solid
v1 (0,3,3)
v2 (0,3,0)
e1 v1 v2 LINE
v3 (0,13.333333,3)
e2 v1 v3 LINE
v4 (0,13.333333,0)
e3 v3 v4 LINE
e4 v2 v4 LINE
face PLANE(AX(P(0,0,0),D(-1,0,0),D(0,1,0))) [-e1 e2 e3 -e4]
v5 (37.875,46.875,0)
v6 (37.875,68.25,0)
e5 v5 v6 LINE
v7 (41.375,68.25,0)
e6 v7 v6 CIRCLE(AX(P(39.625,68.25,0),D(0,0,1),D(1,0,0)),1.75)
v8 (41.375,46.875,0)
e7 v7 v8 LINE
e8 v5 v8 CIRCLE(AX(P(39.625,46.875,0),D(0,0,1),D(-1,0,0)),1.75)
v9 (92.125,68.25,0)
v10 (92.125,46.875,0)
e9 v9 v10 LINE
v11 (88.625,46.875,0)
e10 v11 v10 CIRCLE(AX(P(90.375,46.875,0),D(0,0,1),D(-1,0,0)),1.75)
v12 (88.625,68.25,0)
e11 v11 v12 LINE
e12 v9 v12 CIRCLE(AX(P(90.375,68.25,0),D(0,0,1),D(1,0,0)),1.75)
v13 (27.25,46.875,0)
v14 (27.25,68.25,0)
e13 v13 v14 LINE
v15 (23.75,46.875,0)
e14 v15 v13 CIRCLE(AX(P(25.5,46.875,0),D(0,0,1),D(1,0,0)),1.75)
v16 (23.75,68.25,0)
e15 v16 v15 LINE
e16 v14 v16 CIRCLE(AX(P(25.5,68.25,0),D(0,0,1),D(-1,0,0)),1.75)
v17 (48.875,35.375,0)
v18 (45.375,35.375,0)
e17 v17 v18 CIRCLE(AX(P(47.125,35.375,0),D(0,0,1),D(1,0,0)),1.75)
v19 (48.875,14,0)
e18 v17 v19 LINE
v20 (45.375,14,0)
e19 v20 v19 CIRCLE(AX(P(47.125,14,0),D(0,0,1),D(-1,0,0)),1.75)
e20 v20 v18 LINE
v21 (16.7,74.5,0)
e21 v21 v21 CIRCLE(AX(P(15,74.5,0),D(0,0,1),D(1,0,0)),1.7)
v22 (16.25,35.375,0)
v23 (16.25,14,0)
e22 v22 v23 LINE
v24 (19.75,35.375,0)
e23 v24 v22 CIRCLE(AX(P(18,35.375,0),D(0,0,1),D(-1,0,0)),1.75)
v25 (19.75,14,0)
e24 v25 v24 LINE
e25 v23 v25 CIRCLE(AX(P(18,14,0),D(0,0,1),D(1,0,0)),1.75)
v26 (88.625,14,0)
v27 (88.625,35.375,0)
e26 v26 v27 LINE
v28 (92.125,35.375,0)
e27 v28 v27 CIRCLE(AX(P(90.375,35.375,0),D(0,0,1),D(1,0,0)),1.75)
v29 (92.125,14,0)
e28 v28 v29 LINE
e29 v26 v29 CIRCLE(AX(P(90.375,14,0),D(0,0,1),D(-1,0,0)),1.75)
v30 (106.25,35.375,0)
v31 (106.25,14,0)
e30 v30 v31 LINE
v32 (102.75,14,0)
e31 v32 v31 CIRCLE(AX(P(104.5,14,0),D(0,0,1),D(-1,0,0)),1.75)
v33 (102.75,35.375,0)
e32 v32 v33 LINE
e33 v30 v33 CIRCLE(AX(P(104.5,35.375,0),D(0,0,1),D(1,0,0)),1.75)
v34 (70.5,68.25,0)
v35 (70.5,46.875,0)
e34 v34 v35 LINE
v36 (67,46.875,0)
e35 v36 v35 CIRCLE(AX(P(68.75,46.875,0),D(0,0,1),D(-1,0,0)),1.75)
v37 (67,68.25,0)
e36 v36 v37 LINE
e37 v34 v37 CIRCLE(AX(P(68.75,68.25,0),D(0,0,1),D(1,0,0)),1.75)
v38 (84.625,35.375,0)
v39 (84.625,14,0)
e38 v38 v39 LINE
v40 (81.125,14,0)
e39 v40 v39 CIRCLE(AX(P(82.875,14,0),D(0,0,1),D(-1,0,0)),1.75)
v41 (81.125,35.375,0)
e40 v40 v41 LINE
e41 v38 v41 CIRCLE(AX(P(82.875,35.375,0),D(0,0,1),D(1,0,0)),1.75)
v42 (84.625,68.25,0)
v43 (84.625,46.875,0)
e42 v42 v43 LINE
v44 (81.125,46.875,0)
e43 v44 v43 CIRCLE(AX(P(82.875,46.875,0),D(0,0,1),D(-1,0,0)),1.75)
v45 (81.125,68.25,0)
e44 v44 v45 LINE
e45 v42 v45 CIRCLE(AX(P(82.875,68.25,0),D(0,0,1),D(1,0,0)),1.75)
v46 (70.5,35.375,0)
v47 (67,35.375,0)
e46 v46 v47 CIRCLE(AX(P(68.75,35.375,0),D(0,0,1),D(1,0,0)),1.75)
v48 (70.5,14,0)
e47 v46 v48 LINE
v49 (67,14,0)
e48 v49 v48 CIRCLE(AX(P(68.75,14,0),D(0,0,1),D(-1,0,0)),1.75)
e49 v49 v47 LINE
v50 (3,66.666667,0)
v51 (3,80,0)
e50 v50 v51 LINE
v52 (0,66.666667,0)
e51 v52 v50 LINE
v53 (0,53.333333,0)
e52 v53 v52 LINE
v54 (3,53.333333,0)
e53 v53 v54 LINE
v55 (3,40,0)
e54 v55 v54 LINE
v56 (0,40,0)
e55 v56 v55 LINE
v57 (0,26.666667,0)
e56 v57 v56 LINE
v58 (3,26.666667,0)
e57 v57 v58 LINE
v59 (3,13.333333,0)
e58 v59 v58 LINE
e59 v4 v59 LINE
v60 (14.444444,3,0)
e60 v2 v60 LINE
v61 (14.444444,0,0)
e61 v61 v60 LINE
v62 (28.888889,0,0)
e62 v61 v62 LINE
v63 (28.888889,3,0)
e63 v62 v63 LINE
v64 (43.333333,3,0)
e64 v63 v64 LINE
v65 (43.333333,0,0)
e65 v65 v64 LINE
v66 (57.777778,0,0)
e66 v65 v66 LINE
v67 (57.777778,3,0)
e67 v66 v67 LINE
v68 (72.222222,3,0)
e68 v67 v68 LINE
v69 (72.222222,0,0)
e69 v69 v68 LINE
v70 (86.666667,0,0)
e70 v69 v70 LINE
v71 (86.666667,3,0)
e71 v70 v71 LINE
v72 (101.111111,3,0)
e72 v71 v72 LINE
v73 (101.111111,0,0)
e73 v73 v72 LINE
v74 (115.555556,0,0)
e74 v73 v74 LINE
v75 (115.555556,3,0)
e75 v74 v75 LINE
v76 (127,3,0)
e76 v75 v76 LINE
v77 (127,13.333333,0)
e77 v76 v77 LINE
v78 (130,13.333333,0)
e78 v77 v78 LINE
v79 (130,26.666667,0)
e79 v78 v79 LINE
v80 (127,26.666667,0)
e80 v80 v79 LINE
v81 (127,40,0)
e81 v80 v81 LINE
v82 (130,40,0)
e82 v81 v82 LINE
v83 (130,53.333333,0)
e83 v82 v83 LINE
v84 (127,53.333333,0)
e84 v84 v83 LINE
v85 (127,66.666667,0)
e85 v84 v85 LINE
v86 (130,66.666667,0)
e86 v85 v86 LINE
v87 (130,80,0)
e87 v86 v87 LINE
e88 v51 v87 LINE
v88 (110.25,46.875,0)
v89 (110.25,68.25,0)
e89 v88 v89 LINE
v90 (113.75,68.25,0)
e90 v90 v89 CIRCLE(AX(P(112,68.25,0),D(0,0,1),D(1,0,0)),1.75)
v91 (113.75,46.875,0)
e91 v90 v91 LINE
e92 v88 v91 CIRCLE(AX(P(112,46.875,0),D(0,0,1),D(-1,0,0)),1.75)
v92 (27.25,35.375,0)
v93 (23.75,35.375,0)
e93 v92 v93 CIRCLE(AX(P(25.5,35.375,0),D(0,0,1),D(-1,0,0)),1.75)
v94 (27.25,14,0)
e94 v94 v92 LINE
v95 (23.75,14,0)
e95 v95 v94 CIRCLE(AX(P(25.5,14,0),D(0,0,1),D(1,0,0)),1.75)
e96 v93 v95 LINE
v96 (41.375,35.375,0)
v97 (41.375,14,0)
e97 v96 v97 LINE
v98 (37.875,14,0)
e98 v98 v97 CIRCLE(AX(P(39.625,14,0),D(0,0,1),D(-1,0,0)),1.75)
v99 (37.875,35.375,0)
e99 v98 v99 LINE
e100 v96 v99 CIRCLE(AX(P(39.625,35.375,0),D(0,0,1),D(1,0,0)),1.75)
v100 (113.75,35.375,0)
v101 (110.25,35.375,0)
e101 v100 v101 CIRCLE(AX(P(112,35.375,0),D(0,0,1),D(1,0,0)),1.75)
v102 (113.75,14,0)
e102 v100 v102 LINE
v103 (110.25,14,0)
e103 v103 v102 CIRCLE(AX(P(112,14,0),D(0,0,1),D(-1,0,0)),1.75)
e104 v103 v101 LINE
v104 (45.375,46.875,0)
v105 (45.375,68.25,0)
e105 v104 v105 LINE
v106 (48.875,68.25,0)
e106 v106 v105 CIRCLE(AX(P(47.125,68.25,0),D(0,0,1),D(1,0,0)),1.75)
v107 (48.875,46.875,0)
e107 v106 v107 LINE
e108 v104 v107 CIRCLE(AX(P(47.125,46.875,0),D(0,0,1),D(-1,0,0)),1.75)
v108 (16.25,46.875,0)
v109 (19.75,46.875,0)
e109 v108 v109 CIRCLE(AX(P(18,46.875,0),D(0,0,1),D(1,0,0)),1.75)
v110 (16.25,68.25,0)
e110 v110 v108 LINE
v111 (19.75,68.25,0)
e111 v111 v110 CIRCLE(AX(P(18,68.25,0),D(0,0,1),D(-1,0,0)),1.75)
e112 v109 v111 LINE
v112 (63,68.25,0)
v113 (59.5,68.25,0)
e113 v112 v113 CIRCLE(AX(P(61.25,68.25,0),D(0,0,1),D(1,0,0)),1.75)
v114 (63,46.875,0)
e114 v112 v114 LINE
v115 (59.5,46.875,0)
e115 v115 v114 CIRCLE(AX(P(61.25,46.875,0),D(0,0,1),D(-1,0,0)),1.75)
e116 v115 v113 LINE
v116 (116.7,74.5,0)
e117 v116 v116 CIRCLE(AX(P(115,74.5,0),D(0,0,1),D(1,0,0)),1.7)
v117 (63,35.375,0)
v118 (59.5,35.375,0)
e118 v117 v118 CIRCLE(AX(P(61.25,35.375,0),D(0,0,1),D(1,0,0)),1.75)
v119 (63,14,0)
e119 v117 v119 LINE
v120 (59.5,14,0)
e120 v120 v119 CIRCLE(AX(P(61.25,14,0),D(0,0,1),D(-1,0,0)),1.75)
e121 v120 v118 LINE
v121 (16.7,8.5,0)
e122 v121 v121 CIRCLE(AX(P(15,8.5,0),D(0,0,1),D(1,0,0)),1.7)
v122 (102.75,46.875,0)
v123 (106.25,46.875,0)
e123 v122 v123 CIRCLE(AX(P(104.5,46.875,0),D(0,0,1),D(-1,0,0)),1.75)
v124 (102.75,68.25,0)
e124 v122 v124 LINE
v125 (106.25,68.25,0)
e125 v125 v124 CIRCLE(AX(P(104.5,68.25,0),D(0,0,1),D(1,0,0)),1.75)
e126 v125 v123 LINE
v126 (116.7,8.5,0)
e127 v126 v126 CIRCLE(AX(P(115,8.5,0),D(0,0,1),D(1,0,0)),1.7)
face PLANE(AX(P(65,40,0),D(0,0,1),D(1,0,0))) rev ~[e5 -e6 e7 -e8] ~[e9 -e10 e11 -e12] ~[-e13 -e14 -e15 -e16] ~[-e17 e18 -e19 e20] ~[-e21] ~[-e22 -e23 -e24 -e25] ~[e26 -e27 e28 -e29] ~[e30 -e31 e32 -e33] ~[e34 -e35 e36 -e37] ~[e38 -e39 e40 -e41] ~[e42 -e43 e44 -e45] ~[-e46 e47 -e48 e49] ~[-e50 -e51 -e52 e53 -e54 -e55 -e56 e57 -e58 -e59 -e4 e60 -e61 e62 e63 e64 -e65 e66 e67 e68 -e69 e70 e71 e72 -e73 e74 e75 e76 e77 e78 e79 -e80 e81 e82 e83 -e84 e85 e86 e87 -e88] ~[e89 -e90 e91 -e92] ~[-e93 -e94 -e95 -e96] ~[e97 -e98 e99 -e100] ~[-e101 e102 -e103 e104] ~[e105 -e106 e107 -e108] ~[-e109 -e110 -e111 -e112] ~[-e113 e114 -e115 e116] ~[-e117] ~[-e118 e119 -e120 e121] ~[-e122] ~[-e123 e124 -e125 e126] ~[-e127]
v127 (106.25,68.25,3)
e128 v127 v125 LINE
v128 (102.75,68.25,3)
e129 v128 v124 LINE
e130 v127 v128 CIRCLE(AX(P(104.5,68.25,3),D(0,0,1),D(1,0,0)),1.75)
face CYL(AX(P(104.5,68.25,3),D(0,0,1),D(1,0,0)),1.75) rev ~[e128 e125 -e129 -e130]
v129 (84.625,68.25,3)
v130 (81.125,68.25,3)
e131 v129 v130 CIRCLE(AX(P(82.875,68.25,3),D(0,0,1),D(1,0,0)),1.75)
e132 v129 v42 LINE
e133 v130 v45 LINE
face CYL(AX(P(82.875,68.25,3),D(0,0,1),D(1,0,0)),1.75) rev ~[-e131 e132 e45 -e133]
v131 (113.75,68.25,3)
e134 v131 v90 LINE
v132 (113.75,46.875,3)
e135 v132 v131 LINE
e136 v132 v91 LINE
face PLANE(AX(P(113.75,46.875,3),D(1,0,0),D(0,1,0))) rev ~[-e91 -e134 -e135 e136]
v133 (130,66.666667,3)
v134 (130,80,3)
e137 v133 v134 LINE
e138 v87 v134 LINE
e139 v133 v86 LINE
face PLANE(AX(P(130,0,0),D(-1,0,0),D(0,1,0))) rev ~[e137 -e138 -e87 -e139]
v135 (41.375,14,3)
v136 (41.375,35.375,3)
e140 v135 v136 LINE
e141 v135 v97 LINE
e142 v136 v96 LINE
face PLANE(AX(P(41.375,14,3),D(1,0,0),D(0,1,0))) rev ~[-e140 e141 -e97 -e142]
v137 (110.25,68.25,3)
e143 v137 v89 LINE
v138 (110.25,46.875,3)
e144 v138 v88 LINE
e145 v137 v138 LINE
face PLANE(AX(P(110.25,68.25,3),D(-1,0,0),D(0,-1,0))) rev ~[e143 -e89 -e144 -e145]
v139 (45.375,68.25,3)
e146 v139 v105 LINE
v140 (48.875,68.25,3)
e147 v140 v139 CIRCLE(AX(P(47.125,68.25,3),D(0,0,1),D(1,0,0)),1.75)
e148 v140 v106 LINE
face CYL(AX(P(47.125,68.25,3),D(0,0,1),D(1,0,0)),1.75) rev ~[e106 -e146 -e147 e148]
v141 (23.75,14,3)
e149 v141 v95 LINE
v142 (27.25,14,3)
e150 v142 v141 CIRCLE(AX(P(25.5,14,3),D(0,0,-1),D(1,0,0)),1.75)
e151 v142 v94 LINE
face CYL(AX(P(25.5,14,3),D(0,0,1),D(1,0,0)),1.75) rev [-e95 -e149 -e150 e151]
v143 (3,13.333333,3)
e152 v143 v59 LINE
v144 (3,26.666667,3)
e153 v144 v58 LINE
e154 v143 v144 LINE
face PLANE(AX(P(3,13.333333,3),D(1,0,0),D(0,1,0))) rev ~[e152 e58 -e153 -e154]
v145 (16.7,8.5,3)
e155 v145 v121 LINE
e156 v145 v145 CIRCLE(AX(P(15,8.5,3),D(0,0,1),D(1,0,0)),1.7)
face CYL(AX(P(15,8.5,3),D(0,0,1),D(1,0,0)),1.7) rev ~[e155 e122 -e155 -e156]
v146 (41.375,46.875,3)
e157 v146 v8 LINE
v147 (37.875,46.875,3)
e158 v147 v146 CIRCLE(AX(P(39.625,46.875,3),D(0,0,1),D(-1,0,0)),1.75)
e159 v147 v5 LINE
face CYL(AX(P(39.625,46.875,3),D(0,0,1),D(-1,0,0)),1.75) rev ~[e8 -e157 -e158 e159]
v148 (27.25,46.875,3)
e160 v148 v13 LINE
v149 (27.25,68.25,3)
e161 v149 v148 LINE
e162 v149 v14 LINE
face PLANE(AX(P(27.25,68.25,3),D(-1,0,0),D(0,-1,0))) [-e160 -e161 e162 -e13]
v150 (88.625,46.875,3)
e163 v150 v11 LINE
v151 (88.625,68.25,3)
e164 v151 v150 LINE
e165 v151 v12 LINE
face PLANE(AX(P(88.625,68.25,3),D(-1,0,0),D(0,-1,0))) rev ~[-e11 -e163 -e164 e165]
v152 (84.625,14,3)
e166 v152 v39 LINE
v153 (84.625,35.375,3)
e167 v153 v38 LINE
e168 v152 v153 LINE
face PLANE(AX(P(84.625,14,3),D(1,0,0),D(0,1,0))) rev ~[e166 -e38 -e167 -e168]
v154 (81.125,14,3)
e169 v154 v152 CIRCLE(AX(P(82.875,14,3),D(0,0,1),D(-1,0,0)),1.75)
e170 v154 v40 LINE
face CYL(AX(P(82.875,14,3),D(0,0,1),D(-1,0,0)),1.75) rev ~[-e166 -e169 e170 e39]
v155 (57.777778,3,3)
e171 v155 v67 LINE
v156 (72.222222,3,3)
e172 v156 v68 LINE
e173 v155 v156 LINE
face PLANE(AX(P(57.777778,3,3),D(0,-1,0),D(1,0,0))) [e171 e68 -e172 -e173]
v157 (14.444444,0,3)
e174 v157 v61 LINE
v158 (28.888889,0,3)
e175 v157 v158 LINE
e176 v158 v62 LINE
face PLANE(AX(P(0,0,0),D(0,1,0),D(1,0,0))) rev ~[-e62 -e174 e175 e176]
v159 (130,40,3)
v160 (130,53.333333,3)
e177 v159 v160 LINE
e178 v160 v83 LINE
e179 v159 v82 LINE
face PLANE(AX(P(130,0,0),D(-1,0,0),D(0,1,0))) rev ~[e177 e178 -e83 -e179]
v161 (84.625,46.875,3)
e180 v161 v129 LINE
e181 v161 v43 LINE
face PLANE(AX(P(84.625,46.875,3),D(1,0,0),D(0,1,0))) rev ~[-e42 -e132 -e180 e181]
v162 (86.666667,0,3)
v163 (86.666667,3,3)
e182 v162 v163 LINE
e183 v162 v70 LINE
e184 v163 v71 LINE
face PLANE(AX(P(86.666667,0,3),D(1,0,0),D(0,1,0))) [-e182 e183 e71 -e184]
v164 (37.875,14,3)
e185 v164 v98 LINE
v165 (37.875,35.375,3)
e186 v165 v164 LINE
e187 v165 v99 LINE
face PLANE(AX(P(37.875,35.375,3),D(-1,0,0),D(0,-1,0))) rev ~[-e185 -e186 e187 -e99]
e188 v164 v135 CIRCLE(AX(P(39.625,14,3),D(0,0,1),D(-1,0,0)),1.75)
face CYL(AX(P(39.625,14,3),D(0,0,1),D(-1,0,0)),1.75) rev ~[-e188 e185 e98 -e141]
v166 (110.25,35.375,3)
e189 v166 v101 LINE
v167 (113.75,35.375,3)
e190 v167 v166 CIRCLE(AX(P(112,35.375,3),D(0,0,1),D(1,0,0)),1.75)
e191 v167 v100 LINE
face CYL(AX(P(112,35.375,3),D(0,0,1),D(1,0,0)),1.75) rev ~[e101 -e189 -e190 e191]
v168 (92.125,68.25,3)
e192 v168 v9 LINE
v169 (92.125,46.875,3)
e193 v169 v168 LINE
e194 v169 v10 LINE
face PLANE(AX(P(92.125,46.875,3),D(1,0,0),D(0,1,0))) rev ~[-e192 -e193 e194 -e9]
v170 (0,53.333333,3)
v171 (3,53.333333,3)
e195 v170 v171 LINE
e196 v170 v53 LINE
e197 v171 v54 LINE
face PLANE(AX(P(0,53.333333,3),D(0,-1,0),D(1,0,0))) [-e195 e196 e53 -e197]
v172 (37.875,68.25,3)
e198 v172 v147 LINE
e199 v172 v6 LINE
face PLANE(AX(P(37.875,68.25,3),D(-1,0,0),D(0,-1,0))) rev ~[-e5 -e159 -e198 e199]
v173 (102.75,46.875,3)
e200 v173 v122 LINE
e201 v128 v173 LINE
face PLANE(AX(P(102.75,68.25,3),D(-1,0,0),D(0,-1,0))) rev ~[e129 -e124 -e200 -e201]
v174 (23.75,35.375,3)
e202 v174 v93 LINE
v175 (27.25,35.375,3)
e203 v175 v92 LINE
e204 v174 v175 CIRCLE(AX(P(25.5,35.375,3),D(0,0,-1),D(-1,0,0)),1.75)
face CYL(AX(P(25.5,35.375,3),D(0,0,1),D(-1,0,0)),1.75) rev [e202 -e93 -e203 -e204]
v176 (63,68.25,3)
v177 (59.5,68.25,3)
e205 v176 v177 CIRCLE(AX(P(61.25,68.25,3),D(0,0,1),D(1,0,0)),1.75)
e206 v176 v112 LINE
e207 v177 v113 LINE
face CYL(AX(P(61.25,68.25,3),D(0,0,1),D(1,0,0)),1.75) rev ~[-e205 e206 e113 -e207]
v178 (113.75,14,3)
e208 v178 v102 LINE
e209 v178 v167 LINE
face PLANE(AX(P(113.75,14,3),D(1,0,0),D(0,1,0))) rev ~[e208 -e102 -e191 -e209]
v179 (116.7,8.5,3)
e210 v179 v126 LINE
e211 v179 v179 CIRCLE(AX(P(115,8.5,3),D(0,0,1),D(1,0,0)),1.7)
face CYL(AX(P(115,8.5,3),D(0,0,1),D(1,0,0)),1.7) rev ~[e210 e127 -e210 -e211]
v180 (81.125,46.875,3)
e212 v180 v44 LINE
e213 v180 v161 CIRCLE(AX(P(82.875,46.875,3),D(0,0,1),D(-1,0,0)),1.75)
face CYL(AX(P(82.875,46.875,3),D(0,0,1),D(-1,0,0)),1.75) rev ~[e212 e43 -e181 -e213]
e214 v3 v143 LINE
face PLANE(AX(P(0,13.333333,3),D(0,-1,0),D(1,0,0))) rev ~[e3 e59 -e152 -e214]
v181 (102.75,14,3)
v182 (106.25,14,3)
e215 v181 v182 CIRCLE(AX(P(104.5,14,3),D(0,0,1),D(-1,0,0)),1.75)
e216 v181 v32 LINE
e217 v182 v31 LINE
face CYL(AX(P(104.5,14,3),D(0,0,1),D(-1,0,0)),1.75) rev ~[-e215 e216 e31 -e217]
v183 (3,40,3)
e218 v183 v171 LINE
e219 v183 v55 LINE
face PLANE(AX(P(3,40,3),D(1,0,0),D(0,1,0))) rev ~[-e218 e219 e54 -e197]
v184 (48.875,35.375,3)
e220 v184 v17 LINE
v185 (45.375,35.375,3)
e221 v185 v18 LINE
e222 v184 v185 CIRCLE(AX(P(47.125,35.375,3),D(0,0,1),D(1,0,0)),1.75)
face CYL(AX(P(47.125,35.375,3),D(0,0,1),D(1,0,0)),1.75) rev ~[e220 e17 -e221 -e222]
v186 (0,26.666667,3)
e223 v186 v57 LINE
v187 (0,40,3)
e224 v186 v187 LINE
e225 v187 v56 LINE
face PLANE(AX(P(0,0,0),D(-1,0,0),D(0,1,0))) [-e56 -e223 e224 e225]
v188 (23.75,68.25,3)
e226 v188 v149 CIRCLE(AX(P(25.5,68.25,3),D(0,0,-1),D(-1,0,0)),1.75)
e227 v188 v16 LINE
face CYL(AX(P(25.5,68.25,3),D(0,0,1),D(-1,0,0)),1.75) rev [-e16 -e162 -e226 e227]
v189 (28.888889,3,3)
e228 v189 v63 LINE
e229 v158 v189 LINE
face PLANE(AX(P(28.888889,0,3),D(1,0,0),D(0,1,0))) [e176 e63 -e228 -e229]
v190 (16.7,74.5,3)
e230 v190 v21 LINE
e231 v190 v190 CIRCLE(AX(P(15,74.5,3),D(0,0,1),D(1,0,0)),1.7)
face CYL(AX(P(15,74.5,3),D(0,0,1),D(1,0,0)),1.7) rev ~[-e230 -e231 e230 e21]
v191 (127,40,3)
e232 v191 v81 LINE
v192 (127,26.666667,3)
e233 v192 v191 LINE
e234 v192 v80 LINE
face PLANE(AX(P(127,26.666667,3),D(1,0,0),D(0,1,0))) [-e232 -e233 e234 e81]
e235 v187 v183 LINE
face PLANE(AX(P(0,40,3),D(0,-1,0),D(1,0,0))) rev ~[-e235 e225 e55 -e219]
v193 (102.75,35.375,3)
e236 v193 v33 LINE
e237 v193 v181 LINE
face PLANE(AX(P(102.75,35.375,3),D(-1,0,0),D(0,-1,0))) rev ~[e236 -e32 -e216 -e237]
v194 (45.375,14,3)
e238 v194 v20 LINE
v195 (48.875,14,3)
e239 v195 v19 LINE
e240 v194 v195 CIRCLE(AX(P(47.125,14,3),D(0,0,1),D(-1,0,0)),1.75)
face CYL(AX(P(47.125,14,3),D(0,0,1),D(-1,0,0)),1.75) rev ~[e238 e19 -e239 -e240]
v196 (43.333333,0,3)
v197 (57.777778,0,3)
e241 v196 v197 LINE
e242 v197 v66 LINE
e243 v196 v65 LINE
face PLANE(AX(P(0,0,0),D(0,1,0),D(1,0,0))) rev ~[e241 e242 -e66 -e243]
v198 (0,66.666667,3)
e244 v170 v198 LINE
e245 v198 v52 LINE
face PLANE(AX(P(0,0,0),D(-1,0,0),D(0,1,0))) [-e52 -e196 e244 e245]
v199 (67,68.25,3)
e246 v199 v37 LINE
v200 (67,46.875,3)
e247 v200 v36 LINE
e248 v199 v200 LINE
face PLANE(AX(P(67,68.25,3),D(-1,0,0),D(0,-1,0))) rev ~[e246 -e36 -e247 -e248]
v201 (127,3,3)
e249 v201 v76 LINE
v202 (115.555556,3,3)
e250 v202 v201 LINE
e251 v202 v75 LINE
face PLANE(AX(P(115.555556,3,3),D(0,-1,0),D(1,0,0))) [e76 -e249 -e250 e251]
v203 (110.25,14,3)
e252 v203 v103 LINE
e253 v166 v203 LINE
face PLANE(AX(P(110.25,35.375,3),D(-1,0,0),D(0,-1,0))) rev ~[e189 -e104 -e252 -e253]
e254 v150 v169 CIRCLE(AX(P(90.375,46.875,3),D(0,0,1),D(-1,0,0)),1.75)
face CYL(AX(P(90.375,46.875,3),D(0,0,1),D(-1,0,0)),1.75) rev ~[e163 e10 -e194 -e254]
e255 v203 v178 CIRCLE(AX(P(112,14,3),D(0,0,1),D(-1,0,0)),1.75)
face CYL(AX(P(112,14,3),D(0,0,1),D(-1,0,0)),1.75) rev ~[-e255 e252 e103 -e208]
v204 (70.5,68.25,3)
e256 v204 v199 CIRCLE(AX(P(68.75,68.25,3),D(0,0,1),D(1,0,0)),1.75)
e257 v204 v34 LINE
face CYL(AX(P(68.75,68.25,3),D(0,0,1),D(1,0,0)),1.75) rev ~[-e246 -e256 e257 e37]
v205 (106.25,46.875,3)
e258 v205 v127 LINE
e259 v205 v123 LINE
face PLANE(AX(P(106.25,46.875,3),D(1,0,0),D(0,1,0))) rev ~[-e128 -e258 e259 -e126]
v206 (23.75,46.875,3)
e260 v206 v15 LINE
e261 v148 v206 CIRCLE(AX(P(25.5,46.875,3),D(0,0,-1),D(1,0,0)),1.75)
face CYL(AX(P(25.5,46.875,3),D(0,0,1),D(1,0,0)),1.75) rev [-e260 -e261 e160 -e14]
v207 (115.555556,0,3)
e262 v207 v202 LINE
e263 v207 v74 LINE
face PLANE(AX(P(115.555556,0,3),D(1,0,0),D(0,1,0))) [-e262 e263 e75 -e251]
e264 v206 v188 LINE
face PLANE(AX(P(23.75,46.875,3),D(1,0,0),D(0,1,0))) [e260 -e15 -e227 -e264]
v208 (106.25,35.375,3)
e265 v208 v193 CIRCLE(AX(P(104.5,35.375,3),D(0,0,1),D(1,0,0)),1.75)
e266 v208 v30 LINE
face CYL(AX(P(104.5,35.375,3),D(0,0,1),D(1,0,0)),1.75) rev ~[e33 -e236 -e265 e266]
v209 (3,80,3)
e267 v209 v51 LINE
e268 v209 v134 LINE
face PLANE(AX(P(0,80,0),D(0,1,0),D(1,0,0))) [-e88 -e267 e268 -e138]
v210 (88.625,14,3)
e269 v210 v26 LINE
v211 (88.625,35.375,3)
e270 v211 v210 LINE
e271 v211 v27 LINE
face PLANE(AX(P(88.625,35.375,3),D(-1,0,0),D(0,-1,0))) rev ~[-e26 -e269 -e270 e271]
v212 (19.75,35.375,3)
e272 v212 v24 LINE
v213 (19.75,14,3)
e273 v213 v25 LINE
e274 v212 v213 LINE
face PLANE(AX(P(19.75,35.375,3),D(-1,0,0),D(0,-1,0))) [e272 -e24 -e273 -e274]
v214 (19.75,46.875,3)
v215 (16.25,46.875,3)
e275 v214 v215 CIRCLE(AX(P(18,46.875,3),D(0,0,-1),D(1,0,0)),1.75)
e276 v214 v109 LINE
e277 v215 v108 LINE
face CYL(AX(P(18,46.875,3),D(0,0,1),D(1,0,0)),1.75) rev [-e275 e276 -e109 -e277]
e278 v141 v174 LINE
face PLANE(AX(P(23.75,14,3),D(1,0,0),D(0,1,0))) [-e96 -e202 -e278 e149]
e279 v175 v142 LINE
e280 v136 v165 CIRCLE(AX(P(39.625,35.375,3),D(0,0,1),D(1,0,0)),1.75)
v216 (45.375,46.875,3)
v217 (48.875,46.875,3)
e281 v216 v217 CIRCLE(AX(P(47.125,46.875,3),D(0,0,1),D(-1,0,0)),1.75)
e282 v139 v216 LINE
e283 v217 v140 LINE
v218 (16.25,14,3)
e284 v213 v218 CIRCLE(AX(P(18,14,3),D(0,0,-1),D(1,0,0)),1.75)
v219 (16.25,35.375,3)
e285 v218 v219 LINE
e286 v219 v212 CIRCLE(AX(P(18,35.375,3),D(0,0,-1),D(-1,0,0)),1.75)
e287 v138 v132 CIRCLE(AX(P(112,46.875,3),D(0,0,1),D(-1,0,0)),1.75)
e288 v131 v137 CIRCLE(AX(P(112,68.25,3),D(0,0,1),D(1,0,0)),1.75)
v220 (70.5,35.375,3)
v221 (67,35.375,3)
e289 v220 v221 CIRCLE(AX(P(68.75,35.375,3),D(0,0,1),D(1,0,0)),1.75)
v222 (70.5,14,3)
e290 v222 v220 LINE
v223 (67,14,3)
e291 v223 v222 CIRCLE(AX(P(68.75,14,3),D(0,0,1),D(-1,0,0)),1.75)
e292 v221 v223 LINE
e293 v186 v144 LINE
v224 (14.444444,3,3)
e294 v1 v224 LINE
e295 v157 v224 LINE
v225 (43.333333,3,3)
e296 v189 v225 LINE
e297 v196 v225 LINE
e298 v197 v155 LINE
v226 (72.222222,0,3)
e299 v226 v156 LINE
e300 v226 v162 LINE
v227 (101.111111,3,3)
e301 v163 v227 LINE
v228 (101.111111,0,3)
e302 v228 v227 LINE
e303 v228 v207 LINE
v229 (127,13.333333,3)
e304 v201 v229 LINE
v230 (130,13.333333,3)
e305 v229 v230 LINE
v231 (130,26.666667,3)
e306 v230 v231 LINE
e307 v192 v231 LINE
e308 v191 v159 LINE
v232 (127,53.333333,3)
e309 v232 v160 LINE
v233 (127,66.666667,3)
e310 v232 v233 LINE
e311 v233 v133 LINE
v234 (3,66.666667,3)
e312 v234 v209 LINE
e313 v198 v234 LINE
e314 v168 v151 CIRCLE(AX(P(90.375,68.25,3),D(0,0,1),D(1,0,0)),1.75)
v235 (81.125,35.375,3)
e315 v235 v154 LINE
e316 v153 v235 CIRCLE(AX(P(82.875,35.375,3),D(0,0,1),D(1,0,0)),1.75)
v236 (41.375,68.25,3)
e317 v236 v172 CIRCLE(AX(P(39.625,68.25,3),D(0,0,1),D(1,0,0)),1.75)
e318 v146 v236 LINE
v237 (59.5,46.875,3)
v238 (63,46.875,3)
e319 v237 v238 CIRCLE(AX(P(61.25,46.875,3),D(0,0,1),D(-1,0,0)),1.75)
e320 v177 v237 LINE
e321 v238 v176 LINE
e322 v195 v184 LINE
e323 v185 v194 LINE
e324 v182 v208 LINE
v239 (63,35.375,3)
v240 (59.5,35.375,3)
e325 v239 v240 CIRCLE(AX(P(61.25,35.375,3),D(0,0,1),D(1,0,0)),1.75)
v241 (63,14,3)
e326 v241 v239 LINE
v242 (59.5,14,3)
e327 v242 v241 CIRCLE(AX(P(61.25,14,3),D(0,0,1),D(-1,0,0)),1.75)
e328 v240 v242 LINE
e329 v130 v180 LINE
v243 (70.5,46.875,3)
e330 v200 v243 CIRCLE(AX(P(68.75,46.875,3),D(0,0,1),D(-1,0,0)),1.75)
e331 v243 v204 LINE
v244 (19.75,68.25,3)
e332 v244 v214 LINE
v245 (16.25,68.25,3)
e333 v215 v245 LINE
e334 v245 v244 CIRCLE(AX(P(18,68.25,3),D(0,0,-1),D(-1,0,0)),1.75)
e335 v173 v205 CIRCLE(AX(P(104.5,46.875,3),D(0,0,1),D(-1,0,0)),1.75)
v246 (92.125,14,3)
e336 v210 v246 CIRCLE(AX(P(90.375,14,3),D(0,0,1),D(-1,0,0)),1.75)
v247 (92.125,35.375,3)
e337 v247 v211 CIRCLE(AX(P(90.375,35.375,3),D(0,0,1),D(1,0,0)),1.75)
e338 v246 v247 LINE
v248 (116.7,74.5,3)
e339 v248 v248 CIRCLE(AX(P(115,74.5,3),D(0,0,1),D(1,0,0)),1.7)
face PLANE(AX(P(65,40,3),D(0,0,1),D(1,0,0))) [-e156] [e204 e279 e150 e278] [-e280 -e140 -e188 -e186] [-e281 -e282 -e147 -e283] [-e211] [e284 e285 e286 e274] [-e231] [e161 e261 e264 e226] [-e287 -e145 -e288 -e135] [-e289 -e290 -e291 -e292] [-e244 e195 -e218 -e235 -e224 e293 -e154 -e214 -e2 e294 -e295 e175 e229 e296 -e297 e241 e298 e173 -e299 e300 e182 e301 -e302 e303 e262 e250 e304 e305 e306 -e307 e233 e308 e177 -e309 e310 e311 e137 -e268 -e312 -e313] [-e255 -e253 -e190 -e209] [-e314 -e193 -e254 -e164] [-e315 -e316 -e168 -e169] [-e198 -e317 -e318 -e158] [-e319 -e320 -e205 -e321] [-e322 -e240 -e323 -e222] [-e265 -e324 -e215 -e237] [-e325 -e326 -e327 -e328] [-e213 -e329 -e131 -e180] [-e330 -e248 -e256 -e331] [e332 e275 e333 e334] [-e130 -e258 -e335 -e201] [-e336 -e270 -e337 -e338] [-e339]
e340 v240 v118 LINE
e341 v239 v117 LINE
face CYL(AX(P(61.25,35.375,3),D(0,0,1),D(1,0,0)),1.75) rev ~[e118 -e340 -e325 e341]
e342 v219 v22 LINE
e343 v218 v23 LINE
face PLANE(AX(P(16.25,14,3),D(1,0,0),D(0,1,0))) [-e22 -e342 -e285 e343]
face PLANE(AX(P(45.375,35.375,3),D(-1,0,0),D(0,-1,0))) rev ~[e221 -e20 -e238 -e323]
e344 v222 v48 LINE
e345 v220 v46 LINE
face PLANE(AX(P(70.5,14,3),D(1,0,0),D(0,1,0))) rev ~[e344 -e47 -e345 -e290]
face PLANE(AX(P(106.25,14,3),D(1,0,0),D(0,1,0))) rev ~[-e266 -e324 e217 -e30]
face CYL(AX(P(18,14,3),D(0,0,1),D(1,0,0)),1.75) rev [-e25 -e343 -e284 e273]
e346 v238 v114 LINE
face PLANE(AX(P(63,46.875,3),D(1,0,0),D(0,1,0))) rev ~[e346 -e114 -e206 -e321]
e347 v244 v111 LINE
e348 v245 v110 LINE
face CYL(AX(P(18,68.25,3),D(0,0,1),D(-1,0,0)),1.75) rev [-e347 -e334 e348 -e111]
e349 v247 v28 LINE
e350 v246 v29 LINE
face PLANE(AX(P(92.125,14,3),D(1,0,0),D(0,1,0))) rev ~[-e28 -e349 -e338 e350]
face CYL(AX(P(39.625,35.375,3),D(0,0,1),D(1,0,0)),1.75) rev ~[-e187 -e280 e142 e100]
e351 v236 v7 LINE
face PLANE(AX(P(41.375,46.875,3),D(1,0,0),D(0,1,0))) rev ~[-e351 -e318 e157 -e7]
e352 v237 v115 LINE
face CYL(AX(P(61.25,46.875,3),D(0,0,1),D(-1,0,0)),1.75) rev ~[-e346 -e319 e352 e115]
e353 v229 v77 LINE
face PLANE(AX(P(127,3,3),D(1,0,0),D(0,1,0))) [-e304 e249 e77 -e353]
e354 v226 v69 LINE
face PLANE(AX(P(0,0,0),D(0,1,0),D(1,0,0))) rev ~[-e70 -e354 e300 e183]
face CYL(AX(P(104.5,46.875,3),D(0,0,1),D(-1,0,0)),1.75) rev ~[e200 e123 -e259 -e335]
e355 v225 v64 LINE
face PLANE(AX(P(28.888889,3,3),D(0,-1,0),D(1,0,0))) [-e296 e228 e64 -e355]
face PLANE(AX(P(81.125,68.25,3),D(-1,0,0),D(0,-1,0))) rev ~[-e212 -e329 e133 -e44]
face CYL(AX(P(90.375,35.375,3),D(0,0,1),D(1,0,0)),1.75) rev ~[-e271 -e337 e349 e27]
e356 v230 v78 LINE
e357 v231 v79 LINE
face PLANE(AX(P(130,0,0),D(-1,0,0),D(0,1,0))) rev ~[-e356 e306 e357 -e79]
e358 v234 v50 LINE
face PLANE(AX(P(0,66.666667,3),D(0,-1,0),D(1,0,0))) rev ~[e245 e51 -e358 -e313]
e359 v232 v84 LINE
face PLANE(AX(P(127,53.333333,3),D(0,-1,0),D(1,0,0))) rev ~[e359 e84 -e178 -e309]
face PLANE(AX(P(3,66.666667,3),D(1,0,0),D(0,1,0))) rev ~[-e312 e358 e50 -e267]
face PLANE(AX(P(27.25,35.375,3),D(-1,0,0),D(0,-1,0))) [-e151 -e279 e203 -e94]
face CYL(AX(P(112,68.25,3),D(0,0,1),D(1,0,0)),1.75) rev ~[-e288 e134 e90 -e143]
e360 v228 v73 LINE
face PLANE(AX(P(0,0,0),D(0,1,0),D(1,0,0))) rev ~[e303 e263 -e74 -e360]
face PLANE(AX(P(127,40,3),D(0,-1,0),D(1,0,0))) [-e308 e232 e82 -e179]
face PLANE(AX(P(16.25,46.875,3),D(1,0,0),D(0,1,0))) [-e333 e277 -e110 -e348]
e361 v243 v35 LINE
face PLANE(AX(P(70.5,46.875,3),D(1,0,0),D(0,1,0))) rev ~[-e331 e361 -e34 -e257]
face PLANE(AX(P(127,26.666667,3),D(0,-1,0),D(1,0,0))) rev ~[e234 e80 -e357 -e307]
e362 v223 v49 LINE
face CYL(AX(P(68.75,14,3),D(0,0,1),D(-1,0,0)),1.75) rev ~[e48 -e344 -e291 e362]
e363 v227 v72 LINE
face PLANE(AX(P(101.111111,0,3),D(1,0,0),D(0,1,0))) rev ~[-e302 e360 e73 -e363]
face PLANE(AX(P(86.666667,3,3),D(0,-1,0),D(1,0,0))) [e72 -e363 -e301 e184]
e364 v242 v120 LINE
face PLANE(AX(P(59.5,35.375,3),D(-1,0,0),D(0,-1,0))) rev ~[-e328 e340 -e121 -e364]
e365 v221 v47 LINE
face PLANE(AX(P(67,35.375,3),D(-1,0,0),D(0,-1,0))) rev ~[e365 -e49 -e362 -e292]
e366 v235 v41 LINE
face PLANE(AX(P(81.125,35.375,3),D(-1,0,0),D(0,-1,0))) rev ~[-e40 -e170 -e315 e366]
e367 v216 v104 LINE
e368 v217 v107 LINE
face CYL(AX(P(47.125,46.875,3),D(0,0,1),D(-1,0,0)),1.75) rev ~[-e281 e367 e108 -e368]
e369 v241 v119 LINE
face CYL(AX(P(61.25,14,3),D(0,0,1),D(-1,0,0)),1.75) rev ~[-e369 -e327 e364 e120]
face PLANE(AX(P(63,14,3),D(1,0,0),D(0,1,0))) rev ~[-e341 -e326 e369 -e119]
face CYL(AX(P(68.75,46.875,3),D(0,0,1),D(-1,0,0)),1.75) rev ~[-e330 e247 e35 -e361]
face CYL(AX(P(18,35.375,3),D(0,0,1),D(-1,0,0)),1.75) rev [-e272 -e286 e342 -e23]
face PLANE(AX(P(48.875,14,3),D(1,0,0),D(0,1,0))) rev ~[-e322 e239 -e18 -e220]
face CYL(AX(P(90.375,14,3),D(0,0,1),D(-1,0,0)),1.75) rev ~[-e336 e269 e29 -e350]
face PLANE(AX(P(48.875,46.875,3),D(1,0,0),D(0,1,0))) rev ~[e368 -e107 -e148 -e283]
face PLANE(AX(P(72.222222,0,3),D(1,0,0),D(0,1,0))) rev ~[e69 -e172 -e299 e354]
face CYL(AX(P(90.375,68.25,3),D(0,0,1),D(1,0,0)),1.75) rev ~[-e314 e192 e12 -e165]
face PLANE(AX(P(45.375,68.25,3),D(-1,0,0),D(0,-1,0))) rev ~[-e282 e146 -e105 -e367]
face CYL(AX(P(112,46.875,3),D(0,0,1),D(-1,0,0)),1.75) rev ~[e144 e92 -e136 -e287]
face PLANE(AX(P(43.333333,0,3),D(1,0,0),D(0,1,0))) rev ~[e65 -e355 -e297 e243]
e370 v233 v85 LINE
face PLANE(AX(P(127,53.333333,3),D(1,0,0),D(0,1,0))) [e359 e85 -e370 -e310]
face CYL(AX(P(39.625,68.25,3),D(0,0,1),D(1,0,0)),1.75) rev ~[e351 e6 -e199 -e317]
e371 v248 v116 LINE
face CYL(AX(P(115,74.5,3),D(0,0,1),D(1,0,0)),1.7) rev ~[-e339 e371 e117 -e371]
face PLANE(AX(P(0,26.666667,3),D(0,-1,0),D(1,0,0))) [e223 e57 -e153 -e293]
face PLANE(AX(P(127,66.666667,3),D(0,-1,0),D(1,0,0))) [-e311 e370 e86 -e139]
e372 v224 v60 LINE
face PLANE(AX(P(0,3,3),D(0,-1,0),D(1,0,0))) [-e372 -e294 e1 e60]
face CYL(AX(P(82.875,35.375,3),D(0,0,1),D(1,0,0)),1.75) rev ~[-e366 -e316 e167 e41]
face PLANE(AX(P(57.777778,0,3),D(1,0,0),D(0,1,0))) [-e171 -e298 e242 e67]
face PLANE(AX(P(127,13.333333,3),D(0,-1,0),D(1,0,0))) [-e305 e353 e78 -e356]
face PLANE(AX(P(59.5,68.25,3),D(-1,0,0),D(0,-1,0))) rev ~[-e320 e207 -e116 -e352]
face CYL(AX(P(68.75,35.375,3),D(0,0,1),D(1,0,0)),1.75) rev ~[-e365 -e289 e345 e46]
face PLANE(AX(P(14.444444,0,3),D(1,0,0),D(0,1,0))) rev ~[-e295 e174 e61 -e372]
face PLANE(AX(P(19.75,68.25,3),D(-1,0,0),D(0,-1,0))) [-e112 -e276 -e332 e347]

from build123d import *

# Parameters (mm, degrees)
SKETCH1_W               = 130
SKETCH1_H               = 80
BOSS_EXTRUDE1_DEPTH     = 3
SKETCH2_W               = 14.444444444
SKETCH2_H               = 3
SKETCH2_W_2             = 3
SKETCH2_H_2             = 13.333333334
SKETCH2_H_3             = 13.333333333
CUT_TABS_DEPTH          = 153.672852859
CORNERPIECE_HOLES_REACH = 154.673
SKETCH3_R               = 1.7
COOLING_SLOTS_REACH     = 154.673


with BuildPart() as part:
    # Sketch1 → Boss-Extrude1 (new body)
    with BuildSketch(Plane.XY):
        with Locations((65, 40)):
            Rectangle(SKETCH1_W, SKETCH1_H)
    extrude(amount=BOSS_EXTRUDE1_DEPTH)

    # Sketch2 → Cut tabs (cut, through all)
    with BuildSketch(Plane.XY.offset(3)):
        with Locations((7.222222222, 1.5)):
            Rectangle(SKETCH2_W, SKETCH2_H)
        with Locations((36.111111111, 1.5)):
            Rectangle(SKETCH2_W, SKETCH2_H)
        with Locations((65, 1.5)):
            Rectangle(SKETCH2_W, SKETCH2_H)
        with Locations((93.888888889, 1.5)):
            Rectangle(SKETCH2_W, SKETCH2_H)
        Polygon((115.555555556, 0), (115.555555556, 3), (127, 3), (127, 13.333333333), (130, 13.333333333), (130, 0), align=None)
        with Locations((1.5, 20)):
            Rectangle(SKETCH2_W_2, SKETCH2_H_2)
        with Locations((1.5, 46.666666667)):
            Rectangle(SKETCH2_W_2, SKETCH2_H_3)
        with Locations((1.5, 73.333333334)):
            Rectangle(SKETCH2_W_2, SKETCH2_H_3)
        with Locations((128.5, 33.333333334)):
            Rectangle(SKETCH2_W_2, SKETCH2_H_3)
        with Locations((128.5, 60)):
            Rectangle(SKETCH2_W_2, SKETCH2_H_2)
    extrude(amount=-CUT_TABS_DEPTH, mode=Mode.SUBTRACT)

    # Sketch3 → Cornerpiece holes (cut, up to next)
    with BuildSketch(Plane.XY.offset(3), mode=Mode.PRIVATE) as cornerpiece_holes_sk1:
        with Locations((15, 74.5)):
            Circle(SKETCH3_R)
    cornerpiece_holes_tool1 = extrude(cornerpiece_holes_sk1.sketch, amount=-CORNERPIECE_HOLES_REACH, mode=Mode.PRIVATE) & part.part
    # Sketch3 → Cornerpiece holes (cut, up to next)
    with BuildSketch(Plane.XY.offset(3), mode=Mode.PRIVATE) as cornerpiece_holes_sk2:
        with Locations((115, 74.5)):
            Circle(SKETCH3_R)
    cornerpiece_holes_tool2 = extrude(cornerpiece_holes_sk2.sketch, amount=-CORNERPIECE_HOLES_REACH, mode=Mode.PRIVATE) & part.part
    # Sketch3 → Cornerpiece holes (cut, up to next)
    with BuildSketch(Plane.XY.offset(3), mode=Mode.PRIVATE) as cornerpiece_holes_sk3:
        with Locations((15, 8.5)):
            Circle(SKETCH3_R)
    cornerpiece_holes_tool3 = extrude(cornerpiece_holes_sk3.sketch, amount=-CORNERPIECE_HOLES_REACH, mode=Mode.PRIVATE) & part.part
    # Sketch3 → Cornerpiece holes (cut, up to next)
    with BuildSketch(Plane.XY.offset(3), mode=Mode.PRIVATE) as cornerpiece_holes_sk4:
        with Locations((115, 8.5)):
            Circle(SKETCH3_R)
    cornerpiece_holes_tool4 = extrude(cornerpiece_holes_sk4.sketch, amount=-CORNERPIECE_HOLES_REACH, mode=Mode.PRIVATE) & part.part
    add(cornerpiece_holes_tool1.solids().sort_by_distance((15, 74.5, 3))[0], mode=Mode.SUBTRACT)
    add(cornerpiece_holes_tool2.solids().sort_by_distance((115, 74.5, 3))[0], mode=Mode.SUBTRACT)
    add(cornerpiece_holes_tool3.solids().sort_by_distance((15, 8.5, 3))[0], mode=Mode.SUBTRACT)
    add(cornerpiece_holes_tool4.solids().sort_by_distance((115, 8.5, 3))[0], mode=Mode.SUBTRACT)

    # Sketch4 → Cooling slots (cut, up to next)
    with BuildSketch(Plane.XY.offset(3), mode=Mode.PRIVATE) as cooling_slots_sk1:
        with BuildLine():
            Line((16.25, 14), (16.25, 35.375))
            ThreePointArc((16.25, 35.375), (18, 37.125), (19.75, 35.375))
            Line((19.75, 35.375), (19.75, 14))
            ThreePointArc((19.75, 14), (18, 12.25), (16.25, 14))
        make_face()
    cooling_slots_tool1 = extrude(cooling_slots_sk1.sketch, amount=-COOLING_SLOTS_REACH, mode=Mode.PRIVATE) & part.part
    # Sketch4 → Cooling slots (cut, up to next)
    with BuildSketch(Plane.XY.offset(3), mode=Mode.PRIVATE) as cooling_slots_sk2:
        with BuildLine():
            Line((16.25, 46.875), (16.25, 68.25))
            ThreePointArc((16.25, 68.25), (18, 70), (19.75, 68.25))
            Line((19.75, 68.25), (19.75, 46.875))
            ThreePointArc((19.75, 46.875), (18, 45.125), (16.25, 46.875))
        make_face()
    cooling_slots_tool2 = extrude(cooling_slots_sk2.sketch, amount=-COOLING_SLOTS_REACH, mode=Mode.PRIVATE) & part.part
    # Sketch4 → Cooling slots (cut, up to next)
    with BuildSketch(Plane.XY.offset(3), mode=Mode.PRIVATE) as cooling_slots_sk3:
        with BuildLine():
            Line((23.75, 14), (23.75, 35.375))
            ThreePointArc((23.75, 35.375), (25.5, 37.125), (27.25, 35.375))
            Line((27.25, 35.375), (27.25, 14))
            ThreePointArc((27.25, 14), (25.5, 12.25), (23.75, 14))
        make_face()
    cooling_slots_tool3 = extrude(cooling_slots_sk3.sketch, amount=-COOLING_SLOTS_REACH, mode=Mode.PRIVATE) & part.part
    # Sketch4 → Cooling slots (cut, up to next)
    with BuildSketch(Plane.XY.offset(3), mode=Mode.PRIVATE) as cooling_slots_sk4:
        with BuildLine():
            Line((23.75, 46.875), (23.75, 68.25))
            ThreePointArc((23.75, 68.25), (25.5, 70), (27.25, 68.25))
            Line((27.25, 68.25), (27.25, 46.875))
            ThreePointArc((27.25, 46.875), (25.5, 45.125), (23.75, 46.875))
        make_face()
    cooling_slots_tool4 = extrude(cooling_slots_sk4.sketch, amount=-COOLING_SLOTS_REACH, mode=Mode.PRIVATE) & part.part
    # Sketch4 → Cooling slots (cut, up to next)
    with BuildSketch(Plane.XY.offset(3), mode=Mode.PRIVATE) as cooling_slots_sk5:
        with BuildLine():
            Line((41.375, 14), (41.375, 35.375))
            ThreePointArc((41.375, 35.375), (39.625, 37.125), (37.875, 35.375))
            Line((37.875, 35.375), (37.875, 14))
            ThreePointArc((37.875, 14), (39.625, 12.25), (41.375, 14))
        make_face()
    cooling_slots_tool5 = extrude(cooling_slots_sk5.sketch, amount=-COOLING_SLOTS_REACH, mode=Mode.PRIVATE) & part.part
    # Sketch4 → Cooling slots (cut, up to next)
    with BuildSketch(Plane.XY.offset(3), mode=Mode.PRIVATE) as cooling_slots_sk6:
        with BuildLine():
            Line((48.875, 14), (48.875, 35.375))
            ThreePointArc((48.875, 35.375), (47.125, 37.125), (45.375, 35.375))
            Line((45.375, 35.375), (45.375, 14))
            ThreePointArc((45.375, 14), (47.125, 12.25), (48.875, 14))
        make_face()
    cooling_slots_tool6 = extrude(cooling_slots_sk6.sketch, amount=-COOLING_SLOTS_REACH, mode=Mode.PRIVATE) & part.part
    # Sketch4 → Cooling slots (cut, up to next)
    with BuildSketch(Plane.XY.offset(3), mode=Mode.PRIVATE) as cooling_slots_sk7:
        with BuildLine():
            Line((48.875, 46.875), (48.875, 68.25))
            ThreePointArc((48.875, 68.25), (47.125, 70), (45.375, 68.25))
            Line((45.375, 68.25), (45.375, 46.875))
            ThreePointArc((45.375, 46.875), (47.125, 45.125), (48.875, 46.875))
        make_face()
    cooling_slots_tool7 = extrude(cooling_slots_sk7.sketch, amount=-COOLING_SLOTS_REACH, mode=Mode.PRIVATE) & part.part
    # Sketch4 → Cooling slots (cut, up to next)
    with BuildSketch(Plane.XY.offset(3), mode=Mode.PRIVATE) as cooling_slots_sk8:
        with BuildLine():
            Line((41.375, 46.875), (41.375, 68.25))
            ThreePointArc((41.375, 68.25), (39.625, 70), (37.875, 68.25))
            Line((37.875, 68.25), (37.875, 46.875))
            ThreePointArc((37.875, 46.875), (39.625, 45.125), (41.375, 46.875))
        make_face()
    cooling_slots_tool8 = extrude(cooling_slots_sk8.sketch, amount=-COOLING_SLOTS_REACH, mode=Mode.PRIVATE) & part.part
    # Sketch4 → Cooling slots (cut, up to next)
    with BuildSketch(Plane.XY.offset(3), mode=Mode.PRIVATE) as cooling_slots_sk9:
        with BuildLine():
            Line((63, 14), (63, 35.375))
            ThreePointArc((63, 35.375), (61.25, 37.125), (59.5, 35.375))
            Line((59.5, 35.375), (59.5, 14))
            ThreePointArc((59.5, 14), (61.25, 12.25), (63, 14))
        make_face()
    cooling_slots_tool9 = extrude(cooling_slots_sk9.sketch, amount=-COOLING_SLOTS_REACH, mode=Mode.PRIVATE) & part.part
    # Sketch4 → Cooling slots (cut, up to next)
    with BuildSketch(Plane.XY.offset(3), mode=Mode.PRIVATE) as cooling_slots_sk10:
        with BuildLine():
            Line((70.5, 14), (70.5, 35.375))
            ThreePointArc((70.5, 35.375), (68.75, 37.125), (67, 35.375))
            Line((67, 35.375), (67, 14))
            ThreePointArc((67, 14), (68.75, 12.25), (70.5, 14))
        make_face()
    cooling_slots_tool10 = extrude(cooling_slots_sk10.sketch, amount=-COOLING_SLOTS_REACH, mode=Mode.PRIVATE) & part.part
    # Sketch4 → Cooling slots (cut, up to next)
    with BuildSketch(Plane.XY.offset(3), mode=Mode.PRIVATE) as cooling_slots_sk11:
        with BuildLine():
            Line((70.5, 46.875), (70.5, 68.25))
            ThreePointArc((70.5, 68.25), (68.75, 70), (67, 68.25))
            Line((67, 68.25), (67, 46.875))
            ThreePointArc((67, 46.875), (68.75, 45.125), (70.5, 46.875))
        make_face()
    cooling_slots_tool11 = extrude(cooling_slots_sk11.sketch, amount=-COOLING_SLOTS_REACH, mode=Mode.PRIVATE) & part.part
    # Sketch4 → Cooling slots (cut, up to next)
    with BuildSketch(Plane.XY.offset(3), mode=Mode.PRIVATE) as cooling_slots_sk12:
        with BuildLine():
            Line((63, 46.875), (63, 68.25))
            ThreePointArc((63, 68.25), (61.25, 70), (59.5, 68.25))
            Line((59.5, 68.25), (59.5, 46.875))
            ThreePointArc((59.5, 46.875), (61.25, 45.125), (63, 46.875))
        make_face()
    cooling_slots_tool12 = extrude(cooling_slots_sk12.sketch, amount=-COOLING_SLOTS_REACH, mode=Mode.PRIVATE) & part.part
    # Sketch4 → Cooling slots (cut, up to next)
    with BuildSketch(Plane.XY.offset(3), mode=Mode.PRIVATE) as cooling_slots_sk13:
        with BuildLine():
            Line((84.625, 14), (84.625, 35.375))
            ThreePointArc((84.625, 35.375), (82.875, 37.125), (81.125, 35.375))
            Line((81.125, 35.375), (81.125, 14))
            ThreePointArc((81.125, 14), (82.875, 12.25), (84.625, 14))
        make_face()
    cooling_slots_tool13 = extrude(cooling_slots_sk13.sketch, amount=-COOLING_SLOTS_REACH, mode=Mode.PRIVATE) & part.part
    # Sketch4 → Cooling slots (cut, up to next)
    with BuildSketch(Plane.XY.offset(3), mode=Mode.PRIVATE) as cooling_slots_sk14:
        with BuildLine():
            Line((92.125, 14), (92.125, 35.375))
            ThreePointArc((92.125, 35.375), (90.375, 37.125), (88.625, 35.375))
            Line((88.625, 35.375), (88.625, 14))
            ThreePointArc((88.625, 14), (90.375, 12.25), (92.125, 14))
        make_face()
    cooling_slots_tool14 = extrude(cooling_slots_sk14.sketch, amount=-COOLING_SLOTS_REACH, mode=Mode.PRIVATE) & part.part
    # Sketch4 → Cooling slots (cut, up to next)
    with BuildSketch(Plane.XY.offset(3), mode=Mode.PRIVATE) as cooling_slots_sk15:
        with BuildLine():
            Line((92.125, 46.875), (92.125, 68.25))
            ThreePointArc((92.125, 68.25), (90.375, 70), (88.625, 68.25))
            Line((88.625, 68.25), (88.625, 46.875))
            ThreePointArc((88.625, 46.875), (90.375, 45.125), (92.125, 46.875))
        make_face()
    cooling_slots_tool15 = extrude(cooling_slots_sk15.sketch, amount=-COOLING_SLOTS_REACH, mode=Mode.PRIVATE) & part.part
    # Sketch4 → Cooling slots (cut, up to next)
    with BuildSketch(Plane.XY.offset(3), mode=Mode.PRIVATE) as cooling_slots_sk16:
        with BuildLine():
            Line((84.625, 46.875), (84.625, 68.25))
            ThreePointArc((84.625, 68.25), (82.875, 70), (81.125, 68.25))
            Line((81.125, 68.25), (81.125, 46.875))
            ThreePointArc((81.125, 46.875), (82.875, 45.125), (84.625, 46.875))
        make_face()
    cooling_slots_tool16 = extrude(cooling_slots_sk16.sketch, amount=-COOLING_SLOTS_REACH, mode=Mode.PRIVATE) & part.part
    # Sketch4 → Cooling slots (cut, up to next)
    with BuildSketch(Plane.XY.offset(3), mode=Mode.PRIVATE) as cooling_slots_sk17:
        with BuildLine():
            Line((106.25, 14), (106.25, 35.375))
            ThreePointArc((106.25, 35.375), (104.5, 37.125), (102.75, 35.375))
            Line((102.75, 35.375), (102.75, 14))
            ThreePointArc((102.75, 14), (104.5, 12.25), (106.25, 14))
        make_face()
    cooling_slots_tool17 = extrude(cooling_slots_sk17.sketch, amount=-COOLING_SLOTS_REACH, mode=Mode.PRIVATE) & part.part
    # Sketch4 → Cooling slots (cut, up to next)
    with BuildSketch(Plane.XY.offset(3), mode=Mode.PRIVATE) as cooling_slots_sk18:
        with BuildLine():
            Line((113.75, 14), (113.75, 35.375))
            ThreePointArc((113.75, 35.375), (112, 37.125), (110.25, 35.375))
            Line((110.25, 35.375), (110.25, 14))
            ThreePointArc((110.25, 14), (112, 12.25), (113.75, 14))
        make_face()
    cooling_slots_tool18 = extrude(cooling_slots_sk18.sketch, amount=-COOLING_SLOTS_REACH, mode=Mode.PRIVATE) & part.part
    # Sketch4 → Cooling slots (cut, up to next)
    with BuildSketch(Plane.XY.offset(3), mode=Mode.PRIVATE) as cooling_slots_sk19:
        with BuildLine():
            Line((113.75, 46.875), (113.75, 68.25))
            ThreePointArc((113.75, 68.25), (112, 70), (110.25, 68.25))
            Line((110.25, 68.25), (110.25, 46.875))
            ThreePointArc((110.25, 46.875), (112, 45.125), (113.75, 46.875))
        make_face()
    cooling_slots_tool19 = extrude(cooling_slots_sk19.sketch, amount=-COOLING_SLOTS_REACH, mode=Mode.PRIVATE) & part.part
    # Sketch4 → Cooling slots (cut, up to next)
    with BuildSketch(Plane.XY.offset(3), mode=Mode.PRIVATE) as cooling_slots_sk20:
        with BuildLine():
            Line((106.25, 46.875), (106.25, 68.25))
            ThreePointArc((106.25, 68.25), (104.5, 70), (102.75, 68.25))
            Line((102.75, 68.25), (102.75, 46.875))
            ThreePointArc((102.75, 46.875), (104.5, 45.125), (106.25, 46.875))
        make_face()
    cooling_slots_tool20 = extrude(cooling_slots_sk20.sketch, amount=-COOLING_SLOTS_REACH, mode=Mode.PRIVATE) & part.part
    add(cooling_slots_tool1.solids().sort_by_distance((18, 24.6875, 3))[0], mode=Mode.SUBTRACT)
    add(cooling_slots_tool2.solids().sort_by_distance((18, 57.5625, 3))[0], mode=Mode.SUBTRACT)
    add(cooling_slots_tool3.solids().sort_by_distance((25.5, 24.6875, 3))[0], mode=Mode.SUBTRACT)
    add(cooling_slots_tool4.solids().sort_by_distance((25.5, 57.5625, 3))[0], mode=Mode.SUBTRACT)
    add(cooling_slots_tool5.solids().sort_by_distance((39.625, 24.6875, 3))[0], mode=Mode.SUBTRACT)
    add(cooling_slots_tool6.solids().sort_by_distance((47.125, 24.6875, 3))[0], mode=Mode.SUBTRACT)
    add(cooling_slots_tool7.solids().sort_by_distance((47.125, 57.5625, 3))[0], mode=Mode.SUBTRACT)
    add(cooling_slots_tool8.solids().sort_by_distance((39.625, 57.5625, 3))[0], mode=Mode.SUBTRACT)
    add(cooling_slots_tool9.solids().sort_by_distance((61.25, 24.6875, 3))[0], mode=Mode.SUBTRACT)
    add(cooling_slots_tool10.solids().sort_by_distance((68.75, 24.6875, 3))[0], mode=Mode.SUBTRACT)
    add(cooling_slots_tool11.solids().sort_by_distance((68.75, 57.5625, 3))[0], mode=Mode.SUBTRACT)
    add(cooling_slots_tool12.solids().sort_by_distance((61.25, 57.5625, 3))[0], mode=Mode.SUBTRACT)
    add(cooling_slots_tool13.solids().sort_by_distance((82.875, 24.6875, 3))[0], mode=Mode.SUBTRACT)
    add(cooling_slots_tool14.solids().sort_by_distance((90.375, 24.6875, 3))[0], mode=Mode.SUBTRACT)
    add(cooling_slots_tool15.solids().sort_by_distance((90.375, 57.5625, 3))[0], mode=Mode.SUBTRACT)
    add(cooling_slots_tool16.solids().sort_by_distance((82.875, 57.5625, 3))[0], mode=Mode.SUBTRACT)
    add(cooling_slots_tool17.solids().sort_by_distance((104.5, 24.6875, 3))[0], mode=Mode.SUBTRACT)
    add(cooling_slots_tool18.solids().sort_by_distance((112, 24.6875, 3))[0], mode=Mode.SUBTRACT)
    add(cooling_slots_tool19.solids().sort_by_distance((112, 57.5625, 3))[0], mode=Mode.SUBTRACT)
    add(cooling_slots_tool20.solids().sort_by_distance((104.5, 57.5625, 3))[0], mode=Mode.SUBTRACT)


solid = part.part
